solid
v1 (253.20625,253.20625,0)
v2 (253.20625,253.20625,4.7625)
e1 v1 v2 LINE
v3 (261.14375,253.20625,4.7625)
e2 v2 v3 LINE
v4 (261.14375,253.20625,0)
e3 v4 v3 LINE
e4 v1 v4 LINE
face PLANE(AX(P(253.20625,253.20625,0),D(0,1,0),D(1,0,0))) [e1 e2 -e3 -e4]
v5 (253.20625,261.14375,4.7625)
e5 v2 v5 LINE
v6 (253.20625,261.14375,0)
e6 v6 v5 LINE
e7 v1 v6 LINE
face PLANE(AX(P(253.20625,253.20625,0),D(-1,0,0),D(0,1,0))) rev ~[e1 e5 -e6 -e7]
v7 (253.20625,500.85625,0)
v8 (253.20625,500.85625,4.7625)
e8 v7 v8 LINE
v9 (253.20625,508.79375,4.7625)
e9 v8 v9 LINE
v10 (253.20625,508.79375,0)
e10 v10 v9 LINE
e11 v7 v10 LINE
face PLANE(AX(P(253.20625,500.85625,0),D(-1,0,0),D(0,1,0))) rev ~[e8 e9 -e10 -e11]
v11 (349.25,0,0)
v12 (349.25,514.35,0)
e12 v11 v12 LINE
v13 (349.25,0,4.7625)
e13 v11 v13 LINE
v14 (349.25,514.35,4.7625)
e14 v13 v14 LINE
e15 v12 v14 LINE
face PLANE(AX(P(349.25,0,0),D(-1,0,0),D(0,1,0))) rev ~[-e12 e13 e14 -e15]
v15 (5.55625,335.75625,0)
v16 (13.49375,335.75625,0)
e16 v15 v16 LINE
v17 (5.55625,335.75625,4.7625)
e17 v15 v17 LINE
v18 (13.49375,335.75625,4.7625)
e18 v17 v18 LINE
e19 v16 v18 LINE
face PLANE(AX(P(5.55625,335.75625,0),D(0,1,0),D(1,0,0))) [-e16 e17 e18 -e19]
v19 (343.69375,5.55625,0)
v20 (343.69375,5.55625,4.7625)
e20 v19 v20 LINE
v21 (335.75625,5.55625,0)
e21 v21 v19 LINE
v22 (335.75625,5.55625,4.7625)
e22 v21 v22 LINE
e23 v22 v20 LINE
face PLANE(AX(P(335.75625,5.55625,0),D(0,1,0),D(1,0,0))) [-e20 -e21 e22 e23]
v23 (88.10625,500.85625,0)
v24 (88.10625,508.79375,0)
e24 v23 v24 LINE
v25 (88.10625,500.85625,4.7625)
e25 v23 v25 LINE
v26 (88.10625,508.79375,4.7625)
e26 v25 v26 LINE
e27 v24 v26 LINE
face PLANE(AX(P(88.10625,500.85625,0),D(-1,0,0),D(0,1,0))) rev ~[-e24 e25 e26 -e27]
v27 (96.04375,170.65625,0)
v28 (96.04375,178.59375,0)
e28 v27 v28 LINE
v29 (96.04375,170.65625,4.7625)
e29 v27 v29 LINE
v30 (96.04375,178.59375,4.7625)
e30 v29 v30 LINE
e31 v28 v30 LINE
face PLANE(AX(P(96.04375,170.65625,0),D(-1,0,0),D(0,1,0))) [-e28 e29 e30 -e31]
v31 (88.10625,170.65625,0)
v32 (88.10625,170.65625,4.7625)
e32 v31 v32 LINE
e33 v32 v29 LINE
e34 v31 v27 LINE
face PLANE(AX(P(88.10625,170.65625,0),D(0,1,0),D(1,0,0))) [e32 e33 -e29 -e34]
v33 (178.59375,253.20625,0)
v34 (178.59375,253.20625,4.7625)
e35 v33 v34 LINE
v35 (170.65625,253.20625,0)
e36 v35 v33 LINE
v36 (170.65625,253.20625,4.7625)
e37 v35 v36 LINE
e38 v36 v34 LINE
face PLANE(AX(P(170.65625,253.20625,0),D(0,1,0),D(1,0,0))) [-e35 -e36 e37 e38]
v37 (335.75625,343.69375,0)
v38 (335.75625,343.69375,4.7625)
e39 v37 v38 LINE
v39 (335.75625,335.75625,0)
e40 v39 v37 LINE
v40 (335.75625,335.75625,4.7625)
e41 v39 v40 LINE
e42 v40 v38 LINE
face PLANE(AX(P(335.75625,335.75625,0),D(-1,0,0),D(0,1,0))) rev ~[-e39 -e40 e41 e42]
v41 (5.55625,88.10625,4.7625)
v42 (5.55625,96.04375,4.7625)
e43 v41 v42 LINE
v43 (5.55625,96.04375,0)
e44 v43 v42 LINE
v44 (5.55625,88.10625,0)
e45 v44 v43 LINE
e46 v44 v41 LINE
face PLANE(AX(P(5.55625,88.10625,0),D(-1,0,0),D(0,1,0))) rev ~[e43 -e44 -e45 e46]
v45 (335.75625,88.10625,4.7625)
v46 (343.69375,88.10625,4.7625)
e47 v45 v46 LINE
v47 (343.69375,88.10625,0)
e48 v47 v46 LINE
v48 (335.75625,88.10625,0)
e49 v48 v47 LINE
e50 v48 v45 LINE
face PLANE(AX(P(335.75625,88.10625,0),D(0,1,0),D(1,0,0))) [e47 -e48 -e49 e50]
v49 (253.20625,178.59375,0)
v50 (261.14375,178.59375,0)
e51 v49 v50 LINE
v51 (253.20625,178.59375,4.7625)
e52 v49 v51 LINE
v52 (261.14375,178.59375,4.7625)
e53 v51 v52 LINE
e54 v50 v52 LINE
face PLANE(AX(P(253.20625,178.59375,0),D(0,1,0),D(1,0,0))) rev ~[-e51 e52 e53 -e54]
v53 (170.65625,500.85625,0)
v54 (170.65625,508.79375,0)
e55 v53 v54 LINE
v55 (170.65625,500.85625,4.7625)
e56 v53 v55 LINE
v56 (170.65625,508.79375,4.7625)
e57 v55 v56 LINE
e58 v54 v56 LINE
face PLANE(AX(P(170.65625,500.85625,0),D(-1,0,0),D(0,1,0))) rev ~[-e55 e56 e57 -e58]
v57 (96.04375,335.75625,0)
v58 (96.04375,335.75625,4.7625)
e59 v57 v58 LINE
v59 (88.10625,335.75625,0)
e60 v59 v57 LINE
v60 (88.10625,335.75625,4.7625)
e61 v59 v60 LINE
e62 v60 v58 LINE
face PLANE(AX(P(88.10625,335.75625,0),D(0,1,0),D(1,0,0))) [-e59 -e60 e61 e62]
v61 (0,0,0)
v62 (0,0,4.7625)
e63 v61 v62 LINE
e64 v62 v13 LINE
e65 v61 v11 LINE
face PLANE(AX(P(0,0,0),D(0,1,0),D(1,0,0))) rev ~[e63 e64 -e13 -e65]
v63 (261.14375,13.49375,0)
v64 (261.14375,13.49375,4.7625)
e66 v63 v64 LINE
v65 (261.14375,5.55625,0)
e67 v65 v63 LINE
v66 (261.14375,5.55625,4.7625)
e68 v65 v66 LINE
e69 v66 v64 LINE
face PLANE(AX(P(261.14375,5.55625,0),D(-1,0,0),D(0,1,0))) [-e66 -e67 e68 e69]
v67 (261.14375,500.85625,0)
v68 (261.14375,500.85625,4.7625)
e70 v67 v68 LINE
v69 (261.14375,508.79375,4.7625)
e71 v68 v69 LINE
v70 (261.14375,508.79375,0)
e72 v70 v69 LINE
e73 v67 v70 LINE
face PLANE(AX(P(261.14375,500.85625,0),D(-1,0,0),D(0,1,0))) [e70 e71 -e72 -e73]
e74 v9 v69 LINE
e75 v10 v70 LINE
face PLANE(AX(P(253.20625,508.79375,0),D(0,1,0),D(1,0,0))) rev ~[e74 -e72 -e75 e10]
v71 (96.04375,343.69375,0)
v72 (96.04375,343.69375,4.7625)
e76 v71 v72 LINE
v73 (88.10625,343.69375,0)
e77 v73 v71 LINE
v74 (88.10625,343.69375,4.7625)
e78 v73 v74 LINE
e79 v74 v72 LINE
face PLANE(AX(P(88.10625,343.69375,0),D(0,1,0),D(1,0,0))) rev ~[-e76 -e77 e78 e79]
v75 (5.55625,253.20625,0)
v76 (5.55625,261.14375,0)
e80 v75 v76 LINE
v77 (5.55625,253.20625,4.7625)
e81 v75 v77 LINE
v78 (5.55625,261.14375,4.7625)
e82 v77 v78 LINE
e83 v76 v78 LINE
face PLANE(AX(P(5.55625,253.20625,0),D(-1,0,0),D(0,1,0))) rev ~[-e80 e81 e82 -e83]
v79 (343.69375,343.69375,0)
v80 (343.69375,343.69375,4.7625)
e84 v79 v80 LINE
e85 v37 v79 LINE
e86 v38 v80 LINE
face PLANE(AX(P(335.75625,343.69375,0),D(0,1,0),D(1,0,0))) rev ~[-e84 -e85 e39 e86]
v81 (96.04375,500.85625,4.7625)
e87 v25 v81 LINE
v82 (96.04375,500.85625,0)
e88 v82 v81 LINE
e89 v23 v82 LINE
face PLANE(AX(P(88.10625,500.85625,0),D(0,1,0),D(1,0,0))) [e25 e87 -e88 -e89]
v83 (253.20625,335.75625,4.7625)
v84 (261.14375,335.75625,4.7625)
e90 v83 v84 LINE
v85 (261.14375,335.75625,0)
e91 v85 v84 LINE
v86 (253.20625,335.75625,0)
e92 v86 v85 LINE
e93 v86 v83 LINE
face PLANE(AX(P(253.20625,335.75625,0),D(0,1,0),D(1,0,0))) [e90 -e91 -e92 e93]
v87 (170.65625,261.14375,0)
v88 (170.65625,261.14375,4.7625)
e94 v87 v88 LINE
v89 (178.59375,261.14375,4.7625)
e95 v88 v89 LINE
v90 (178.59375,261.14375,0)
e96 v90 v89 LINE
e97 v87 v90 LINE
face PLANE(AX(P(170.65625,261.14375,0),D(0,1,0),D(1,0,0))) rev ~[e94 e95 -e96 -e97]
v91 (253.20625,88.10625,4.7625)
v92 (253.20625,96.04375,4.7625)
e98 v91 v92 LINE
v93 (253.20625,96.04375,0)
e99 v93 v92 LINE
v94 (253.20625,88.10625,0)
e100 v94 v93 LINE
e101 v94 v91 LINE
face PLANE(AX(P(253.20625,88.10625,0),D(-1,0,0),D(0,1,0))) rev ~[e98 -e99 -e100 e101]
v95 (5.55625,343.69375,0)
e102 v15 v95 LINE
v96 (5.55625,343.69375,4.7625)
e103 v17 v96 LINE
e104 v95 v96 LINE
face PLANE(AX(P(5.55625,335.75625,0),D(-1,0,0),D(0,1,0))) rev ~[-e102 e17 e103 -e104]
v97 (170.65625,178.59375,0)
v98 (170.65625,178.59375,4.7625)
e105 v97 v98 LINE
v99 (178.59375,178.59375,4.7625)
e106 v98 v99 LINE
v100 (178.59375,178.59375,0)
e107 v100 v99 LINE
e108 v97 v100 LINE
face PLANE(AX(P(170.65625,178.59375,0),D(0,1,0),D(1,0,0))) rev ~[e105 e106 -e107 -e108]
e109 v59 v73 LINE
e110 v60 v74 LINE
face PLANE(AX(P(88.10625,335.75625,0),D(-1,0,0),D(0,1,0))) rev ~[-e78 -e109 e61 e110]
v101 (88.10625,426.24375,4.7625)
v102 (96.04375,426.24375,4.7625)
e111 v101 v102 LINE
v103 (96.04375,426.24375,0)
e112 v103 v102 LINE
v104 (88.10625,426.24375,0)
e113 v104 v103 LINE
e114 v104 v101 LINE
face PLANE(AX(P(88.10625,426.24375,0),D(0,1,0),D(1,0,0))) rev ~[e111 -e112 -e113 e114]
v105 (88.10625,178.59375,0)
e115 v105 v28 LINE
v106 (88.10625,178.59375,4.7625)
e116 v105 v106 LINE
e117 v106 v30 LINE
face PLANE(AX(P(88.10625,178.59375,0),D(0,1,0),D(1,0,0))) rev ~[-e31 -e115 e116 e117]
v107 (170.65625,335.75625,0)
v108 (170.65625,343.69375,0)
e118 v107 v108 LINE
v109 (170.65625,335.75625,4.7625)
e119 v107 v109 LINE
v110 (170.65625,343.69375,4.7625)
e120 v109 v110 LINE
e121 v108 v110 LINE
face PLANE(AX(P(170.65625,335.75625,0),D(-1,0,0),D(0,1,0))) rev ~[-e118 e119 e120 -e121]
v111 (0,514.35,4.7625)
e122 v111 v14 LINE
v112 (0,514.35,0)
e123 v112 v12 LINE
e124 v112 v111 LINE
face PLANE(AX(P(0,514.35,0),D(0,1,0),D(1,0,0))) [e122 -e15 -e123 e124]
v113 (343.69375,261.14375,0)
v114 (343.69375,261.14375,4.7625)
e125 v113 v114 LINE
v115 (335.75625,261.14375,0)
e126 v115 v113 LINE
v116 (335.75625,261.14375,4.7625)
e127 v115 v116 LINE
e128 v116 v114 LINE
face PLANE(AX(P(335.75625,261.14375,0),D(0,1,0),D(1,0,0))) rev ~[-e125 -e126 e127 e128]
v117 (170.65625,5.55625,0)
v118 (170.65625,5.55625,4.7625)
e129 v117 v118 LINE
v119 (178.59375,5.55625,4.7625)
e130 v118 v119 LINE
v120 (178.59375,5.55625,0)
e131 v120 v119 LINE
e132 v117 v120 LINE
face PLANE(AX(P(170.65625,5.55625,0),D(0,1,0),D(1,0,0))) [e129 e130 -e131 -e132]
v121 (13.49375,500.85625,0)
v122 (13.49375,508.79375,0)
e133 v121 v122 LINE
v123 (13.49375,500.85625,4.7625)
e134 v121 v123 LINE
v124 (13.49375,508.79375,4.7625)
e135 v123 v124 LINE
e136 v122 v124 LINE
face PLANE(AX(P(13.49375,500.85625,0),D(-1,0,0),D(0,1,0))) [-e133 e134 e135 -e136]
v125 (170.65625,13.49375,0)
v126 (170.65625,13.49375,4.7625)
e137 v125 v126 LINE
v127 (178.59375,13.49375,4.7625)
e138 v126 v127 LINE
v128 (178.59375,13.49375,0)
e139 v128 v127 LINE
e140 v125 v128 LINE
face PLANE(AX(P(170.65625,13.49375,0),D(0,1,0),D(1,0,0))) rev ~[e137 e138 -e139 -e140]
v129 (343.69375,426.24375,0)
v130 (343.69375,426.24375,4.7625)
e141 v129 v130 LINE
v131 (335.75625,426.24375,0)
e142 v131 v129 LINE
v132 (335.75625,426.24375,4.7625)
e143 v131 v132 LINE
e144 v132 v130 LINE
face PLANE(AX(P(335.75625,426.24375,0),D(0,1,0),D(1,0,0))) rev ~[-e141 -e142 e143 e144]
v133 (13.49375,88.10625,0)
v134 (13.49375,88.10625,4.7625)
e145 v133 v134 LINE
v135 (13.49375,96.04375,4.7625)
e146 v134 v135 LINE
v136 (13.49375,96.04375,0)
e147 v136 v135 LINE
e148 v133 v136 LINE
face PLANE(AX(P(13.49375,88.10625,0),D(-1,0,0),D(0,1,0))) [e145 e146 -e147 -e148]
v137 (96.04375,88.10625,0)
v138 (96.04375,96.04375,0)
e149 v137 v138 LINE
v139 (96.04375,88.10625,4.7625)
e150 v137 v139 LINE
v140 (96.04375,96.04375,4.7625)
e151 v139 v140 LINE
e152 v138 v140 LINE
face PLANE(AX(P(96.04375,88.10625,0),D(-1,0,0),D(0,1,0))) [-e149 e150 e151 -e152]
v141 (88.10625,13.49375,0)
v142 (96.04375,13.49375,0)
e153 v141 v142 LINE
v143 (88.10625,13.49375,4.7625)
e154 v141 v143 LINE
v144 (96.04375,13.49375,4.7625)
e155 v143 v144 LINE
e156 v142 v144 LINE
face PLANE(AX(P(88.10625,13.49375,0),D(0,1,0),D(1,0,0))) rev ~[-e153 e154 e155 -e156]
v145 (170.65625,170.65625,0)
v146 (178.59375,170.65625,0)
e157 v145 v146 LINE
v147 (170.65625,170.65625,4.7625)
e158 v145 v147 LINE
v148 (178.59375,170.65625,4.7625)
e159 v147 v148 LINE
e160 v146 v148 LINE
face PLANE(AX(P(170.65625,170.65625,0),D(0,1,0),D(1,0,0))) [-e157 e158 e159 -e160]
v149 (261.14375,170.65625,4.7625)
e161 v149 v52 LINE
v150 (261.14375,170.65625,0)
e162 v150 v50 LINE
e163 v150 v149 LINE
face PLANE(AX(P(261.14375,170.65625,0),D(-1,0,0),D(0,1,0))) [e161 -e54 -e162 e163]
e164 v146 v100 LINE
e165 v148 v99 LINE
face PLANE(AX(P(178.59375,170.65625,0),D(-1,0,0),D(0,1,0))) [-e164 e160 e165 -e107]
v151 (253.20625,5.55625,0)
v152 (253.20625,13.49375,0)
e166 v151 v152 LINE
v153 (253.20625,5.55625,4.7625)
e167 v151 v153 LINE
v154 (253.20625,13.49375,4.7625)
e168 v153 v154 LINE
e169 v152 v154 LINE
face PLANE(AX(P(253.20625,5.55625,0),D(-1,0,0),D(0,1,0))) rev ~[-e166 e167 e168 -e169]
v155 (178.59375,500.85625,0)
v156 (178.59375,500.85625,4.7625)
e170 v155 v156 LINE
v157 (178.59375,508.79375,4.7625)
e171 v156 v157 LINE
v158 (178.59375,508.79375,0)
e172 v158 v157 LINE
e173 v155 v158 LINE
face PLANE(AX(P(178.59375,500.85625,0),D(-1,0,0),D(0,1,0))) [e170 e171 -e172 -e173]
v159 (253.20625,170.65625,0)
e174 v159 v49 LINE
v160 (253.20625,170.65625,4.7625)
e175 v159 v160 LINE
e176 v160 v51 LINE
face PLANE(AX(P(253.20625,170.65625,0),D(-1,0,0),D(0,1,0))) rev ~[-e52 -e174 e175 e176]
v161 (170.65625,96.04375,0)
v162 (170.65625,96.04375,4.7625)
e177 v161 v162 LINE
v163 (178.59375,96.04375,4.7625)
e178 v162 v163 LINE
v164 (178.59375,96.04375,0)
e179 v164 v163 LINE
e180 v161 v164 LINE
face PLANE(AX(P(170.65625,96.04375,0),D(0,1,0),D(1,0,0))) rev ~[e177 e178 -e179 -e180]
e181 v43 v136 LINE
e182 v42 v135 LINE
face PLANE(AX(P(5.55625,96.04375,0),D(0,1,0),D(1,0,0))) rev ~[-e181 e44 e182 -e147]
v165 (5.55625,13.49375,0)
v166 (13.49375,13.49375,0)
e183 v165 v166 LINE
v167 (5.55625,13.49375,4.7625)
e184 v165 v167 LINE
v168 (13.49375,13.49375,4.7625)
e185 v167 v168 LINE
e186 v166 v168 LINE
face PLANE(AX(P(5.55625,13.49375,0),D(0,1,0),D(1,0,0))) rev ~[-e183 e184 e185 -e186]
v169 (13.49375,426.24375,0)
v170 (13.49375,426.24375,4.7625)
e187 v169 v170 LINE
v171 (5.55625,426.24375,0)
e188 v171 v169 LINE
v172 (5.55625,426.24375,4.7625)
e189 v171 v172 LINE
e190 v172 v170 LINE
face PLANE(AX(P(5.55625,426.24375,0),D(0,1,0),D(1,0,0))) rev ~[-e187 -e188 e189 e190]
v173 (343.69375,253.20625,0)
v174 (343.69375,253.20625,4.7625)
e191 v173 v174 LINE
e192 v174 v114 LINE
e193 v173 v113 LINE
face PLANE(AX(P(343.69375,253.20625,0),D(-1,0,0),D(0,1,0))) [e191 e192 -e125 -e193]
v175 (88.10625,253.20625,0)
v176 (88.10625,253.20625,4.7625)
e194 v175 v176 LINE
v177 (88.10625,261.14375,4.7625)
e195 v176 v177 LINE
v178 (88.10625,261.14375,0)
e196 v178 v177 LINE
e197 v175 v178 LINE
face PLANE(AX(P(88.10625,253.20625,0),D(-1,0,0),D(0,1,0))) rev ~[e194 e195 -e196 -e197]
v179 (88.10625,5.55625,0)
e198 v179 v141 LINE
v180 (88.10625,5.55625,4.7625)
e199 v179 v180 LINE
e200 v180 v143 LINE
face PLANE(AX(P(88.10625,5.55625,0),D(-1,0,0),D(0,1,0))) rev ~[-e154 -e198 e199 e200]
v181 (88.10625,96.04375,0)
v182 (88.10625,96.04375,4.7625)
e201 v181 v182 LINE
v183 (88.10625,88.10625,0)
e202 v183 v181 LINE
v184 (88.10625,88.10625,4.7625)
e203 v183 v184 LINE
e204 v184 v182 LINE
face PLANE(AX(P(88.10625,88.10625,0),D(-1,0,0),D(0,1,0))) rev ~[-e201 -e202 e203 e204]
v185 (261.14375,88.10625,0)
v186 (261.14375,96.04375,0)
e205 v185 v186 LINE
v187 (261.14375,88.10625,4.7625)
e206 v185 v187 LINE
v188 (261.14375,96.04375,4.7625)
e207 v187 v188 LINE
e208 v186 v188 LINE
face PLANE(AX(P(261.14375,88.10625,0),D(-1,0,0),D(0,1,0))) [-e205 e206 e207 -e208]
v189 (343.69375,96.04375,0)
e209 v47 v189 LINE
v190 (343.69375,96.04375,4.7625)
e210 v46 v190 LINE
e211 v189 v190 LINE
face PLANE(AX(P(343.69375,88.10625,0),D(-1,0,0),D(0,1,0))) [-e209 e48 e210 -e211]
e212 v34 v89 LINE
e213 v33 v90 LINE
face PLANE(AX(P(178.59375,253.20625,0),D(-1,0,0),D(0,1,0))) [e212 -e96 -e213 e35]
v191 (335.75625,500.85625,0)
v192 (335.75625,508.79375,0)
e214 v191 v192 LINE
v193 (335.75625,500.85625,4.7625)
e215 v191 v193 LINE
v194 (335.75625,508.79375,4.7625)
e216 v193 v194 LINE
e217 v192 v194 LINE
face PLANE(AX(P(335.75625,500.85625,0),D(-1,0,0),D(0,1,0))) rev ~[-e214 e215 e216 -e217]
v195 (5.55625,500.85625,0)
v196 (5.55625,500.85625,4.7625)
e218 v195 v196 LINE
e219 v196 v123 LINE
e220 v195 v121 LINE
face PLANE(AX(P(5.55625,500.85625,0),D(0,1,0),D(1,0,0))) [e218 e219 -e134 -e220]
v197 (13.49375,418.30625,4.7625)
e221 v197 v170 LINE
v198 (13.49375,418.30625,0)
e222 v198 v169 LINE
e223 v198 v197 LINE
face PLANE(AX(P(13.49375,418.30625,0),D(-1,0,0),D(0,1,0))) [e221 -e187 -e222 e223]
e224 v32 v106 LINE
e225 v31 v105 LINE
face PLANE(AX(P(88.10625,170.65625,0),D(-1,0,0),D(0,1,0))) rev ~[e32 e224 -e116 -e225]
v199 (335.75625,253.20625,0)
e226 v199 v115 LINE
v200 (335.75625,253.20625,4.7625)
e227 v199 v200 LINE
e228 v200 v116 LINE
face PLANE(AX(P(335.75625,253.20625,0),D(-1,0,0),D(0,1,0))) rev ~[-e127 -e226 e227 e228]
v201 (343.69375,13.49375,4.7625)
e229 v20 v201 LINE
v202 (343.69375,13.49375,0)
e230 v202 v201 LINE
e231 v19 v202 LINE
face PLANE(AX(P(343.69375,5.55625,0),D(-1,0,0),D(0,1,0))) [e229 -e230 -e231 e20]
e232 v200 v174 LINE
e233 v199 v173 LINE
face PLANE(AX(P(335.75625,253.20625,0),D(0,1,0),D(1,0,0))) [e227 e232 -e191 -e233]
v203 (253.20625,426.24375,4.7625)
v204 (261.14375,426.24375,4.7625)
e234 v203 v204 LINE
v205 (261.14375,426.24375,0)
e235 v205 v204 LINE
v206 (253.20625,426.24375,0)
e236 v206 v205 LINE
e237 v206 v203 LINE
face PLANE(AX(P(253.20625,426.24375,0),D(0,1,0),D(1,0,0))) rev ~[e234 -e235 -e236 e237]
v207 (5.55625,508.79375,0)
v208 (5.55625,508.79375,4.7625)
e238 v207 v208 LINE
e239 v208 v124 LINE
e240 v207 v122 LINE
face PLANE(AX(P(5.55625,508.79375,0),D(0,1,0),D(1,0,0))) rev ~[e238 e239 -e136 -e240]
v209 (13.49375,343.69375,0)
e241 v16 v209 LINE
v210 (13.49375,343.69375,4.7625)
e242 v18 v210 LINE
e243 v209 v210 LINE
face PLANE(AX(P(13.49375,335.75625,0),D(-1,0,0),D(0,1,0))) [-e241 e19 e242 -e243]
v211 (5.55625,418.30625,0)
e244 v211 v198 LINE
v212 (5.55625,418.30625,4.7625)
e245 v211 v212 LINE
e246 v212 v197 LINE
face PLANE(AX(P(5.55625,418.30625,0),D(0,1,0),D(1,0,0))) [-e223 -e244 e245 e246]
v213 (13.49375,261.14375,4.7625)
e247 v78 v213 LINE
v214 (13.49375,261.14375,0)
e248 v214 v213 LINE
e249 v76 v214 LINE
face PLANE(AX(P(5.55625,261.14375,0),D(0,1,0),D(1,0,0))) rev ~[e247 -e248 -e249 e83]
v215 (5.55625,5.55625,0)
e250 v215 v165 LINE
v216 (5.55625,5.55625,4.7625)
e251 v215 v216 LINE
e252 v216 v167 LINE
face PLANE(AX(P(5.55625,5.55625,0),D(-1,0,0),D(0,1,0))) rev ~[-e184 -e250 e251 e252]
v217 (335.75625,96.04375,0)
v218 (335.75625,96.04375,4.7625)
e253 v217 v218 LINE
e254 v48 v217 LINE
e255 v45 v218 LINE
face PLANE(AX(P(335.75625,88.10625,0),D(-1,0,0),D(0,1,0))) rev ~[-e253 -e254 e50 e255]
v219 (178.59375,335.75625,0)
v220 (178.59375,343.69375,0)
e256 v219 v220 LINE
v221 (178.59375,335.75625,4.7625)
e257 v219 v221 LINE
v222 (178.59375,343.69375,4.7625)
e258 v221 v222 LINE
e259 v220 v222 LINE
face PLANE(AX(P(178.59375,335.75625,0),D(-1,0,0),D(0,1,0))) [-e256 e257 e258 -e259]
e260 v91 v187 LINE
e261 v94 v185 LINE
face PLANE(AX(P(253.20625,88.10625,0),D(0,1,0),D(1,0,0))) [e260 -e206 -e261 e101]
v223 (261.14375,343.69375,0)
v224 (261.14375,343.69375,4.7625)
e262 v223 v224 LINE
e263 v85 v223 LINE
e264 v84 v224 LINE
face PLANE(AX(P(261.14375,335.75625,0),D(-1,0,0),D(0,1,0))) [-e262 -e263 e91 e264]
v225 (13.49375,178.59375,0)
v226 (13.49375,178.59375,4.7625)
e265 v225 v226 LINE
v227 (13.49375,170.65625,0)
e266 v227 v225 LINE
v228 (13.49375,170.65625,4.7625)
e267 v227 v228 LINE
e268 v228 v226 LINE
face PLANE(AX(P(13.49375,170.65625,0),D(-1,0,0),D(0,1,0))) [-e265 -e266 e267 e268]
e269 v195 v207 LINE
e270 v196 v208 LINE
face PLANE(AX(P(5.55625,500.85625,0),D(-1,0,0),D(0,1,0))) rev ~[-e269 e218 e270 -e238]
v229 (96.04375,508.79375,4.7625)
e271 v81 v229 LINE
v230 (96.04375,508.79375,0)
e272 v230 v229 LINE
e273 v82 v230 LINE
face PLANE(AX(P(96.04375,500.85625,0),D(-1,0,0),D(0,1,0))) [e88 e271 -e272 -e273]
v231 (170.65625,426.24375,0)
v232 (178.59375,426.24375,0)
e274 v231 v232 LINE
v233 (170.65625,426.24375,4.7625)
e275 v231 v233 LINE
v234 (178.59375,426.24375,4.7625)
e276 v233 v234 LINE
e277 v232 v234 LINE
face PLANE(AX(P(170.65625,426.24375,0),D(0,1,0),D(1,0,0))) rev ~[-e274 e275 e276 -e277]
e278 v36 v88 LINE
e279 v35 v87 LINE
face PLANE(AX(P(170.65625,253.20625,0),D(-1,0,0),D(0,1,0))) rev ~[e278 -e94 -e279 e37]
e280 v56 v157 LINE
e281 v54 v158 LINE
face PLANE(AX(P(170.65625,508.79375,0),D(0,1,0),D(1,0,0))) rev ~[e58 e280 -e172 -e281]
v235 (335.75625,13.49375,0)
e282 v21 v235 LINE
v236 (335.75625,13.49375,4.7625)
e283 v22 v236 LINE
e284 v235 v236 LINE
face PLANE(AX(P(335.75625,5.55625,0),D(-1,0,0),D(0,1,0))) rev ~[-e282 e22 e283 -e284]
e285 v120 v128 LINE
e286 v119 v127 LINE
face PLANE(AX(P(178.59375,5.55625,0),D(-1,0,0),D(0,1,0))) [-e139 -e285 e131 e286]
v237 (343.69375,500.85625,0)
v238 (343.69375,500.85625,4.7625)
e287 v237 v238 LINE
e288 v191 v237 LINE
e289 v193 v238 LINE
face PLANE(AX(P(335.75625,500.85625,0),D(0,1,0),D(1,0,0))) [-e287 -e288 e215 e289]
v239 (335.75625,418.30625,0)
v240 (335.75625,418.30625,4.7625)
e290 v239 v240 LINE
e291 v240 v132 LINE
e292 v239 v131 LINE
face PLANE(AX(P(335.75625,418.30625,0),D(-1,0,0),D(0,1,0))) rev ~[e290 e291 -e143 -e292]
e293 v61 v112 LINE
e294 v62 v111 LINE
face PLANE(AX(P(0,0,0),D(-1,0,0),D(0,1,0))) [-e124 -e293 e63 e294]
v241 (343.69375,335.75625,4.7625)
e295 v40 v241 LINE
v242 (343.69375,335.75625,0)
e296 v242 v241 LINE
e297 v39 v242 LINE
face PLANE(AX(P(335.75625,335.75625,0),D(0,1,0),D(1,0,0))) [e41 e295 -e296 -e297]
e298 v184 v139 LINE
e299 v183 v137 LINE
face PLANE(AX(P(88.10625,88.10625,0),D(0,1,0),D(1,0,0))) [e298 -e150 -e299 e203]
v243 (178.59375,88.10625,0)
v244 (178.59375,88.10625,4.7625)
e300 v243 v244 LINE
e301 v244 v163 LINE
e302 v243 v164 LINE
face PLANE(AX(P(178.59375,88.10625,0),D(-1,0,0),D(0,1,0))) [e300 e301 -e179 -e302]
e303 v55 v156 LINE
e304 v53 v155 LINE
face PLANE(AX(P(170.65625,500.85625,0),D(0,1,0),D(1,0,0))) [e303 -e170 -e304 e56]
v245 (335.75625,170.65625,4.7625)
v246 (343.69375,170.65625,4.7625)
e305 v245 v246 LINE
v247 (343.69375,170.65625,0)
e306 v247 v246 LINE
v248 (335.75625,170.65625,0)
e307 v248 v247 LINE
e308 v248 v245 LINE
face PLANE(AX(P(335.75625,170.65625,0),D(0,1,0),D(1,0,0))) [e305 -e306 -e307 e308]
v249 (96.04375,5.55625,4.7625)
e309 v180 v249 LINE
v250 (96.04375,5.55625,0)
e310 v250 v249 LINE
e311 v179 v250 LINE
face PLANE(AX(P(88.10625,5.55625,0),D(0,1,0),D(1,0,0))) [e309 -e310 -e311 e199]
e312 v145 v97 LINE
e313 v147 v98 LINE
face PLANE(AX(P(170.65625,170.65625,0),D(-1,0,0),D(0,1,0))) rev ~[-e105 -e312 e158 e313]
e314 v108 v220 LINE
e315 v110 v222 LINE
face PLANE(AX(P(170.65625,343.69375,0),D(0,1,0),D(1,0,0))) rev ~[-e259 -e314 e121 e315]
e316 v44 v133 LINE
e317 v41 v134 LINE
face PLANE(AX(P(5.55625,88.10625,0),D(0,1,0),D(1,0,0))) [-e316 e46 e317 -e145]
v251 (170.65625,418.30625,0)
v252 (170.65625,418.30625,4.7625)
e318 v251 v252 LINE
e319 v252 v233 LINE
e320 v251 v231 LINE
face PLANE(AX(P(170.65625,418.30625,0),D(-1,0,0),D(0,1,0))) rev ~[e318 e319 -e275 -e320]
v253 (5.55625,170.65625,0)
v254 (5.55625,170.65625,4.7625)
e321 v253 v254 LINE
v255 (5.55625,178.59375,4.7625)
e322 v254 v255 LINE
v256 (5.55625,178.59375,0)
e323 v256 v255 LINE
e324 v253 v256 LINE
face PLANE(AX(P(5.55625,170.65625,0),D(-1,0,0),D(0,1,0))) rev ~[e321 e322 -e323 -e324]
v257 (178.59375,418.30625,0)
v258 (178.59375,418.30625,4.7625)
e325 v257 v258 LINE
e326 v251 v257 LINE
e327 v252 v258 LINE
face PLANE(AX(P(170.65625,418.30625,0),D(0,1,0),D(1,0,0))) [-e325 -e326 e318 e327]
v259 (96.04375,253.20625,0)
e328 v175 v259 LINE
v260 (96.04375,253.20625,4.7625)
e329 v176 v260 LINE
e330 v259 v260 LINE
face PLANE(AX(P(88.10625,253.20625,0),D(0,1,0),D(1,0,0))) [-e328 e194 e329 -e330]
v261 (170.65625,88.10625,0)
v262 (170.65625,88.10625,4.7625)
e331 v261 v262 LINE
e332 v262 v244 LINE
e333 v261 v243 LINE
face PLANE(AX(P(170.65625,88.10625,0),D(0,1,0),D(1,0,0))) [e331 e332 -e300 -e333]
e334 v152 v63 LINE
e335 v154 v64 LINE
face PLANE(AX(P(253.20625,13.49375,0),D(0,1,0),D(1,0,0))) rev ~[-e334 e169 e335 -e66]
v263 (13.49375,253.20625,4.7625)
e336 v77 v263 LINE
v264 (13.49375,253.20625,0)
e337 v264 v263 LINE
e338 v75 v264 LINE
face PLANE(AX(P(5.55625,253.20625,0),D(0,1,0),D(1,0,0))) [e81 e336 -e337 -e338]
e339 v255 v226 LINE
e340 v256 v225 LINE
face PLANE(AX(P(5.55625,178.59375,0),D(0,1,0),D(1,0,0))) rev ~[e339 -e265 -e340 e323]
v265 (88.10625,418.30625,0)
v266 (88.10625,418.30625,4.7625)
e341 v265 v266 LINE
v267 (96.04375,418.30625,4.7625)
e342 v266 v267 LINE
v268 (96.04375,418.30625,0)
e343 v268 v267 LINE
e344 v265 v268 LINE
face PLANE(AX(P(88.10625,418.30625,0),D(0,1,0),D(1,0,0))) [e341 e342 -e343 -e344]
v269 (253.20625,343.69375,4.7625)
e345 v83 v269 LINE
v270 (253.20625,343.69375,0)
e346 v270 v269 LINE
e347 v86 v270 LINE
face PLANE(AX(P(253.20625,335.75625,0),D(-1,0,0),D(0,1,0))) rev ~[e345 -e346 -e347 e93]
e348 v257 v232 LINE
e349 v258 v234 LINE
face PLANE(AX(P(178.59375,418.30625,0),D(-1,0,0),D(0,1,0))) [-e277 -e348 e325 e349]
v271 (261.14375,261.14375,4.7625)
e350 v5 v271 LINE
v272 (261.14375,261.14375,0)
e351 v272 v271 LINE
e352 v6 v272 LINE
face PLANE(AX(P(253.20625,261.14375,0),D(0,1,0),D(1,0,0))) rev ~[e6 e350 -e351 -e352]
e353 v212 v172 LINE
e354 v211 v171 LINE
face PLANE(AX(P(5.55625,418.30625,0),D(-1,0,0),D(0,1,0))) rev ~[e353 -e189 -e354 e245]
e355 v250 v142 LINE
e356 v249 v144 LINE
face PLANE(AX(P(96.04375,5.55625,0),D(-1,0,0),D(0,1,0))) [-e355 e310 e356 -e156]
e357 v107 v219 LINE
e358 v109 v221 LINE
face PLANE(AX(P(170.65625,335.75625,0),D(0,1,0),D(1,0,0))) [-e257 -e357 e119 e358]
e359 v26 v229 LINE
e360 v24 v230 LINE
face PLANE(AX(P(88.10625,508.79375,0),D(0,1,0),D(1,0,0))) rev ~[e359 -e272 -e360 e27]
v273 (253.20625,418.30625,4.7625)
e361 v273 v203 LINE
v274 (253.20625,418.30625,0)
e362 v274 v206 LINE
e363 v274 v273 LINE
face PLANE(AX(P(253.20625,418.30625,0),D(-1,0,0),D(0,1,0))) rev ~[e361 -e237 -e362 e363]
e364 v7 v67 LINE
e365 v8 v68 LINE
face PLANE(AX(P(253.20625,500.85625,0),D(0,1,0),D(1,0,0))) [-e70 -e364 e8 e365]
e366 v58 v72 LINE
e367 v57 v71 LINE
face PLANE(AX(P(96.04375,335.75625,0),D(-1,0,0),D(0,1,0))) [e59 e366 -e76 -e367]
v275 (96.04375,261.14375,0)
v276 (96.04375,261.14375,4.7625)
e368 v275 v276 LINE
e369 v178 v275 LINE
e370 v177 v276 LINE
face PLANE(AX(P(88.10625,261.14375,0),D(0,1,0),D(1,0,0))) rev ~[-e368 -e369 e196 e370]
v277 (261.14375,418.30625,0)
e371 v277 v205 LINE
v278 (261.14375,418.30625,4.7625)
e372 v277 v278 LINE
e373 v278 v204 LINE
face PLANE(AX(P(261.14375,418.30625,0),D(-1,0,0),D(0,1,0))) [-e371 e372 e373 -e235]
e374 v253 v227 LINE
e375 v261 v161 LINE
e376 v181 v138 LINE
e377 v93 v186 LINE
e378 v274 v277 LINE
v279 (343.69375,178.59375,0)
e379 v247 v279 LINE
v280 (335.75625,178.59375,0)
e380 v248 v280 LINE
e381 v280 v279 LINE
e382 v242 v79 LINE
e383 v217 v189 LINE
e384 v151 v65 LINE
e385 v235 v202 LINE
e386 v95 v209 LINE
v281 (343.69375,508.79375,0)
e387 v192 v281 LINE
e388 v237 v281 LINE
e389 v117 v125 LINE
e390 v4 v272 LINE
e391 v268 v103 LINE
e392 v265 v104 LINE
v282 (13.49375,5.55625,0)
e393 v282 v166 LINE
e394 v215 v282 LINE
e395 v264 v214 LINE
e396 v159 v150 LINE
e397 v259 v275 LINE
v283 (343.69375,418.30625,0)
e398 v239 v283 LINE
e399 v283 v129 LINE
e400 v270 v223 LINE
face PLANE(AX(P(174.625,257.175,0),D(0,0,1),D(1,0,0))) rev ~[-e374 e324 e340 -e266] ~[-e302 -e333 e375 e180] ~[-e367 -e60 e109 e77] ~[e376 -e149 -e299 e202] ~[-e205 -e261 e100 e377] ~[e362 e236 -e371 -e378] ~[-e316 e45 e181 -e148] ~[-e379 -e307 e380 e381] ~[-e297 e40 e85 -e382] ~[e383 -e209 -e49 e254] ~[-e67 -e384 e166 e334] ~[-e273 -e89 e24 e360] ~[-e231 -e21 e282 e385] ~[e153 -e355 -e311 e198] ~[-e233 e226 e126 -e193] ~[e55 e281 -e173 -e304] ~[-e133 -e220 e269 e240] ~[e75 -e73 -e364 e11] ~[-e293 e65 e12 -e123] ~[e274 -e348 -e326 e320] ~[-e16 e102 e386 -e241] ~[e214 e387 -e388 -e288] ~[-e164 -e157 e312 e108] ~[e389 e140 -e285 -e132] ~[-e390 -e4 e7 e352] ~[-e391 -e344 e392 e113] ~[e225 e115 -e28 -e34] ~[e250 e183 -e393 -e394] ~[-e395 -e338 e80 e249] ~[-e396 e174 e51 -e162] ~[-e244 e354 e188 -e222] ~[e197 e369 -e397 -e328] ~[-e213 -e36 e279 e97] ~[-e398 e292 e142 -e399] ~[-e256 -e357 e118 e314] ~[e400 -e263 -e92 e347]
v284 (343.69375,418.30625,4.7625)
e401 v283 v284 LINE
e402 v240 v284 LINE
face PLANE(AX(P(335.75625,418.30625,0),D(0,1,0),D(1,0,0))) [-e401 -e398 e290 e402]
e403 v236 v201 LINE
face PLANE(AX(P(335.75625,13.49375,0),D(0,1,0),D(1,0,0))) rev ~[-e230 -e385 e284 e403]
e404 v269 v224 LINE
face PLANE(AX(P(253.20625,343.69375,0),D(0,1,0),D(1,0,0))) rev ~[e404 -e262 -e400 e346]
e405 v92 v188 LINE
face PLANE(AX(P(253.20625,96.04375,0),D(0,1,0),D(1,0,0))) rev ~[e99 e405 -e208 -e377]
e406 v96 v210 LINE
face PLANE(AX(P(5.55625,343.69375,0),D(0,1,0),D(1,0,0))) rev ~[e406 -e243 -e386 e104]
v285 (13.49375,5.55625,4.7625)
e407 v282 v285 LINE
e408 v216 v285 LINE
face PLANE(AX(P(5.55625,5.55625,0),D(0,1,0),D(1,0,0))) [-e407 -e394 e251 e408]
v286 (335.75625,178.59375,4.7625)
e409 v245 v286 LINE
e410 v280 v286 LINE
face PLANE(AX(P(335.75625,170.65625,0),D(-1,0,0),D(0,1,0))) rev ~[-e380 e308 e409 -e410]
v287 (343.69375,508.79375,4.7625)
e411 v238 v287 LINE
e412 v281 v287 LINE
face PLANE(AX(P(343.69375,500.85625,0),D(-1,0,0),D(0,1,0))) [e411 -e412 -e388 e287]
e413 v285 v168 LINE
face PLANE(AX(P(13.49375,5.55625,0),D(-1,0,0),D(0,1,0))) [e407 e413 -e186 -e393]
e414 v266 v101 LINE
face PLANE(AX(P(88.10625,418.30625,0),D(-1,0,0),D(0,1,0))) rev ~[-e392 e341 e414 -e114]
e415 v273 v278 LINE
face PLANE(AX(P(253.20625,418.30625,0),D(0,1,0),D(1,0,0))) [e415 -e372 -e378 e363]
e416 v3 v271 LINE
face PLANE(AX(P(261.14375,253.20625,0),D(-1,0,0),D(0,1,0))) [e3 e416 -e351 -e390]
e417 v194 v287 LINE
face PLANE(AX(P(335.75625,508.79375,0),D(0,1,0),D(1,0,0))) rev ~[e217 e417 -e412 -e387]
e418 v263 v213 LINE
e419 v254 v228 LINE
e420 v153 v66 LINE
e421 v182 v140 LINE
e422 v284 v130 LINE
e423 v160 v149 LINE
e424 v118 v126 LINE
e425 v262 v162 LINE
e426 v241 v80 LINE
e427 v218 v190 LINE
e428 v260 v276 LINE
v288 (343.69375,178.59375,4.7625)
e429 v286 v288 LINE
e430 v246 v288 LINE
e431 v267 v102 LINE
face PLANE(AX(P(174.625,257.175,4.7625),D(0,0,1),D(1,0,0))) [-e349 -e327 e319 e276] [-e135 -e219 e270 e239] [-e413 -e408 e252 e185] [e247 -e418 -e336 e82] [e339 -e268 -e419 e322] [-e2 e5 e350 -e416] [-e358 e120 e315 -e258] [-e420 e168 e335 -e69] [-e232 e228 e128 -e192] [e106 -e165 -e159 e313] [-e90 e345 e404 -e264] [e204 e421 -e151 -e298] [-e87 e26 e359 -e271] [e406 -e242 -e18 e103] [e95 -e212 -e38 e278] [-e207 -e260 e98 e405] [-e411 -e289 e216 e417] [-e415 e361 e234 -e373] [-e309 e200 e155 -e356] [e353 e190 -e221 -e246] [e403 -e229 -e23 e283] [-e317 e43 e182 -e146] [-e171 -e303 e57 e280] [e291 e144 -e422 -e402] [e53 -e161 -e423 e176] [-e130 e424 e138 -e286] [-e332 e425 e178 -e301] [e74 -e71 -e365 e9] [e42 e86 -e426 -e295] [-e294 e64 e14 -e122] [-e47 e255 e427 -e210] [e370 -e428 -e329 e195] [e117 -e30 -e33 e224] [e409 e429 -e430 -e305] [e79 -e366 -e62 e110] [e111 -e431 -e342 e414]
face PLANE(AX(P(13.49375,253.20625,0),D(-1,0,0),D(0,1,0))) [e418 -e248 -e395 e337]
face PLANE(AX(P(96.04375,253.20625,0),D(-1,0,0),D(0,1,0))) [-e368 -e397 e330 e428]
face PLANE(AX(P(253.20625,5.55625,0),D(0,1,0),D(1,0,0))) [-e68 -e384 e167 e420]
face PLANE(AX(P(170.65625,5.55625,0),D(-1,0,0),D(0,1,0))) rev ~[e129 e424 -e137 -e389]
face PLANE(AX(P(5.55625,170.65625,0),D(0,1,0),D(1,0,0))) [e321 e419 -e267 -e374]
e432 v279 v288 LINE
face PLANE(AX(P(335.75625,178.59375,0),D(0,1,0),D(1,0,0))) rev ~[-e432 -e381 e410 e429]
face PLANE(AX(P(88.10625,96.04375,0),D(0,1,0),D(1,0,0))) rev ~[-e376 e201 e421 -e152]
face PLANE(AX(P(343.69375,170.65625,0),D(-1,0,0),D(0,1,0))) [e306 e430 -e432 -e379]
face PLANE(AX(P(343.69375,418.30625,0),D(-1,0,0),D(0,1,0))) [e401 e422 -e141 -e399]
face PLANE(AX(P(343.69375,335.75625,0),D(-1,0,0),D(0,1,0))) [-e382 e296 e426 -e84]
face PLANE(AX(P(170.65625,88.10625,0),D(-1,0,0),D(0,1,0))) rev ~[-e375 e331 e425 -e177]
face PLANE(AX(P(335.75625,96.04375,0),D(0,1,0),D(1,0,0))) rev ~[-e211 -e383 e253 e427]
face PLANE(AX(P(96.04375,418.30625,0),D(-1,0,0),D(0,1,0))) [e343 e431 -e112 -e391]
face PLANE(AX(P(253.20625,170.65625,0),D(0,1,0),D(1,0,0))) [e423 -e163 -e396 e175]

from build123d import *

# Parameters (mm, degrees)
F0_W     = 349.25
F0_H     = 514.35
F0_W_2   = 7.9375
F0_H_2   = 7.9375
F1_DEPTH = 4.7625


with BuildPart() as f1:
    # F0 (on Top) → F1 (new body)
    with BuildSketch(Plane.XY):
        with Locations((174.625, 257.175)):
            Rectangle(F0_W, F0_H)
        with Locations((9.525, 9.525)):
            Rectangle(F0_W_2, F0_H_2, mode=Mode.SUBTRACT)
        with Locations((9.525, 92.075)):
            Rectangle(F0_W_2, F0_H_2, mode=Mode.SUBTRACT)
        with Locations((92.075, 9.525)):
            Rectangle(F0_W_2, F0_H_2, mode=Mode.SUBTRACT)
        with Locations((92.075, 92.075)):
            Rectangle(F0_W_2, F0_H_2, mode=Mode.SUBTRACT)
        with Locations((9.525, 174.625)):
            Rectangle(F0_W_2, F0_H_2, mode=Mode.SUBTRACT)
        with Locations((92.075, 174.625)):
            Rectangle(F0_W_2, F0_H_2, mode=Mode.SUBTRACT)
        with Locations((174.625, 9.525)):
            Rectangle(F0_W_2, F0_H_2, mode=Mode.SUBTRACT)
        with Locations((257.175, 9.525)):
            Rectangle(F0_W_2, F0_H_2, mode=Mode.SUBTRACT)
        with Locations((174.625, 92.075)):
            Rectangle(F0_W_2, F0_H_2, mode=Mode.SUBTRACT)
        with Locations((257.175, 92.075)):
            Rectangle(F0_W_2, F0_H_2, mode=Mode.SUBTRACT)
        with Locations((339.725, 9.525)):
            Rectangle(F0_W_2, F0_H_2, mode=Mode.SUBTRACT)
        with Locations((339.725, 92.075)):
            Rectangle(F0_W_2, F0_H_2, mode=Mode.SUBTRACT)
        with Locations((174.625, 174.625)):
            Rectangle(F0_W_2, F0_H_2, mode=Mode.SUBTRACT)
        with Locations((257.175, 174.625)):
            Rectangle(F0_W_2, F0_H_2, mode=Mode.SUBTRACT)
        with Locations((339.725, 174.625)):
            Rectangle(F0_W_2, F0_H_2, mode=Mode.SUBTRACT)
        with Locations((9.525, 257.175)):
            Rectangle(F0_W_2, F0_H_2, mode=Mode.SUBTRACT)
        with Locations((9.525, 339.725)):
            Rectangle(F0_W_2, F0_H_2, mode=Mode.SUBTRACT)
        with Locations((92.075, 257.175)):
            Rectangle(F0_W_2, F0_H_2, mode=Mode.SUBTRACT)
        with Locations((92.075, 339.725)):
            Rectangle(F0_W_2, F0_H_2, mode=Mode.SUBTRACT)
        with Locations((9.525, 422.275)):
            Rectangle(F0_W_2, F0_H_2, mode=Mode.SUBTRACT)
        with Locations((9.525, 504.825)):
            Rectangle(F0_W_2, F0_H_2, mode=Mode.SUBTRACT)
        with Locations((92.075, 422.275)):
            Rectangle(F0_W_2, F0_H_2, mode=Mode.SUBTRACT)
        with Locations((92.075, 504.825)):
            Rectangle(F0_W_2, F0_H_2, mode=Mode.SUBTRACT)
        with Locations((174.625, 257.175)):
            Rectangle(F0_W_2, F0_H_2, mode=Mode.SUBTRACT)
        with Locations((257.175, 257.175)):
            Rectangle(F0_W_2, F0_H_2, mode=Mode.SUBTRACT)
        with Locations((174.625, 339.725)):
            Rectangle(F0_W_2, F0_H_2, mode=Mode.SUBTRACT)
        with Locations((257.175, 339.725)):
            Rectangle(F0_W_2, F0_H_2, mode=Mode.SUBTRACT)
        with Locations((339.725, 257.175)):
            Rectangle(F0_W_2, F0_H_2, mode=Mode.SUBTRACT)
        with Locations((339.725, 339.725)):
            Rectangle(F0_W_2, F0_H_2, mode=Mode.SUBTRACT)
        with Locations((174.625, 422.275)):
            Rectangle(F0_W_2, F0_H_2, mode=Mode.SUBTRACT)
        with Locations((257.175, 422.275)):
            Rectangle(F0_W_2, F0_H_2, mode=Mode.SUBTRACT)
        with Locations((174.625, 504.825)):
            Rectangle(F0_W_2, F0_H_2, mode=Mode.SUBTRACT)
        with Locations((257.175, 504.825)):
            Rectangle(F0_W_2, F0_H_2, mode=Mode.SUBTRACT)
        with Locations((339.725, 422.275)):
            Rectangle(F0_W_2, F0_H_2, mode=Mode.SUBTRACT)
        with Locations((339.725, 504.825)):
            Rectangle(F0_W_2, F0_H_2, mode=Mode.SUBTRACT)
    extrude(amount=F1_DEPTH)


solid = f1.part
